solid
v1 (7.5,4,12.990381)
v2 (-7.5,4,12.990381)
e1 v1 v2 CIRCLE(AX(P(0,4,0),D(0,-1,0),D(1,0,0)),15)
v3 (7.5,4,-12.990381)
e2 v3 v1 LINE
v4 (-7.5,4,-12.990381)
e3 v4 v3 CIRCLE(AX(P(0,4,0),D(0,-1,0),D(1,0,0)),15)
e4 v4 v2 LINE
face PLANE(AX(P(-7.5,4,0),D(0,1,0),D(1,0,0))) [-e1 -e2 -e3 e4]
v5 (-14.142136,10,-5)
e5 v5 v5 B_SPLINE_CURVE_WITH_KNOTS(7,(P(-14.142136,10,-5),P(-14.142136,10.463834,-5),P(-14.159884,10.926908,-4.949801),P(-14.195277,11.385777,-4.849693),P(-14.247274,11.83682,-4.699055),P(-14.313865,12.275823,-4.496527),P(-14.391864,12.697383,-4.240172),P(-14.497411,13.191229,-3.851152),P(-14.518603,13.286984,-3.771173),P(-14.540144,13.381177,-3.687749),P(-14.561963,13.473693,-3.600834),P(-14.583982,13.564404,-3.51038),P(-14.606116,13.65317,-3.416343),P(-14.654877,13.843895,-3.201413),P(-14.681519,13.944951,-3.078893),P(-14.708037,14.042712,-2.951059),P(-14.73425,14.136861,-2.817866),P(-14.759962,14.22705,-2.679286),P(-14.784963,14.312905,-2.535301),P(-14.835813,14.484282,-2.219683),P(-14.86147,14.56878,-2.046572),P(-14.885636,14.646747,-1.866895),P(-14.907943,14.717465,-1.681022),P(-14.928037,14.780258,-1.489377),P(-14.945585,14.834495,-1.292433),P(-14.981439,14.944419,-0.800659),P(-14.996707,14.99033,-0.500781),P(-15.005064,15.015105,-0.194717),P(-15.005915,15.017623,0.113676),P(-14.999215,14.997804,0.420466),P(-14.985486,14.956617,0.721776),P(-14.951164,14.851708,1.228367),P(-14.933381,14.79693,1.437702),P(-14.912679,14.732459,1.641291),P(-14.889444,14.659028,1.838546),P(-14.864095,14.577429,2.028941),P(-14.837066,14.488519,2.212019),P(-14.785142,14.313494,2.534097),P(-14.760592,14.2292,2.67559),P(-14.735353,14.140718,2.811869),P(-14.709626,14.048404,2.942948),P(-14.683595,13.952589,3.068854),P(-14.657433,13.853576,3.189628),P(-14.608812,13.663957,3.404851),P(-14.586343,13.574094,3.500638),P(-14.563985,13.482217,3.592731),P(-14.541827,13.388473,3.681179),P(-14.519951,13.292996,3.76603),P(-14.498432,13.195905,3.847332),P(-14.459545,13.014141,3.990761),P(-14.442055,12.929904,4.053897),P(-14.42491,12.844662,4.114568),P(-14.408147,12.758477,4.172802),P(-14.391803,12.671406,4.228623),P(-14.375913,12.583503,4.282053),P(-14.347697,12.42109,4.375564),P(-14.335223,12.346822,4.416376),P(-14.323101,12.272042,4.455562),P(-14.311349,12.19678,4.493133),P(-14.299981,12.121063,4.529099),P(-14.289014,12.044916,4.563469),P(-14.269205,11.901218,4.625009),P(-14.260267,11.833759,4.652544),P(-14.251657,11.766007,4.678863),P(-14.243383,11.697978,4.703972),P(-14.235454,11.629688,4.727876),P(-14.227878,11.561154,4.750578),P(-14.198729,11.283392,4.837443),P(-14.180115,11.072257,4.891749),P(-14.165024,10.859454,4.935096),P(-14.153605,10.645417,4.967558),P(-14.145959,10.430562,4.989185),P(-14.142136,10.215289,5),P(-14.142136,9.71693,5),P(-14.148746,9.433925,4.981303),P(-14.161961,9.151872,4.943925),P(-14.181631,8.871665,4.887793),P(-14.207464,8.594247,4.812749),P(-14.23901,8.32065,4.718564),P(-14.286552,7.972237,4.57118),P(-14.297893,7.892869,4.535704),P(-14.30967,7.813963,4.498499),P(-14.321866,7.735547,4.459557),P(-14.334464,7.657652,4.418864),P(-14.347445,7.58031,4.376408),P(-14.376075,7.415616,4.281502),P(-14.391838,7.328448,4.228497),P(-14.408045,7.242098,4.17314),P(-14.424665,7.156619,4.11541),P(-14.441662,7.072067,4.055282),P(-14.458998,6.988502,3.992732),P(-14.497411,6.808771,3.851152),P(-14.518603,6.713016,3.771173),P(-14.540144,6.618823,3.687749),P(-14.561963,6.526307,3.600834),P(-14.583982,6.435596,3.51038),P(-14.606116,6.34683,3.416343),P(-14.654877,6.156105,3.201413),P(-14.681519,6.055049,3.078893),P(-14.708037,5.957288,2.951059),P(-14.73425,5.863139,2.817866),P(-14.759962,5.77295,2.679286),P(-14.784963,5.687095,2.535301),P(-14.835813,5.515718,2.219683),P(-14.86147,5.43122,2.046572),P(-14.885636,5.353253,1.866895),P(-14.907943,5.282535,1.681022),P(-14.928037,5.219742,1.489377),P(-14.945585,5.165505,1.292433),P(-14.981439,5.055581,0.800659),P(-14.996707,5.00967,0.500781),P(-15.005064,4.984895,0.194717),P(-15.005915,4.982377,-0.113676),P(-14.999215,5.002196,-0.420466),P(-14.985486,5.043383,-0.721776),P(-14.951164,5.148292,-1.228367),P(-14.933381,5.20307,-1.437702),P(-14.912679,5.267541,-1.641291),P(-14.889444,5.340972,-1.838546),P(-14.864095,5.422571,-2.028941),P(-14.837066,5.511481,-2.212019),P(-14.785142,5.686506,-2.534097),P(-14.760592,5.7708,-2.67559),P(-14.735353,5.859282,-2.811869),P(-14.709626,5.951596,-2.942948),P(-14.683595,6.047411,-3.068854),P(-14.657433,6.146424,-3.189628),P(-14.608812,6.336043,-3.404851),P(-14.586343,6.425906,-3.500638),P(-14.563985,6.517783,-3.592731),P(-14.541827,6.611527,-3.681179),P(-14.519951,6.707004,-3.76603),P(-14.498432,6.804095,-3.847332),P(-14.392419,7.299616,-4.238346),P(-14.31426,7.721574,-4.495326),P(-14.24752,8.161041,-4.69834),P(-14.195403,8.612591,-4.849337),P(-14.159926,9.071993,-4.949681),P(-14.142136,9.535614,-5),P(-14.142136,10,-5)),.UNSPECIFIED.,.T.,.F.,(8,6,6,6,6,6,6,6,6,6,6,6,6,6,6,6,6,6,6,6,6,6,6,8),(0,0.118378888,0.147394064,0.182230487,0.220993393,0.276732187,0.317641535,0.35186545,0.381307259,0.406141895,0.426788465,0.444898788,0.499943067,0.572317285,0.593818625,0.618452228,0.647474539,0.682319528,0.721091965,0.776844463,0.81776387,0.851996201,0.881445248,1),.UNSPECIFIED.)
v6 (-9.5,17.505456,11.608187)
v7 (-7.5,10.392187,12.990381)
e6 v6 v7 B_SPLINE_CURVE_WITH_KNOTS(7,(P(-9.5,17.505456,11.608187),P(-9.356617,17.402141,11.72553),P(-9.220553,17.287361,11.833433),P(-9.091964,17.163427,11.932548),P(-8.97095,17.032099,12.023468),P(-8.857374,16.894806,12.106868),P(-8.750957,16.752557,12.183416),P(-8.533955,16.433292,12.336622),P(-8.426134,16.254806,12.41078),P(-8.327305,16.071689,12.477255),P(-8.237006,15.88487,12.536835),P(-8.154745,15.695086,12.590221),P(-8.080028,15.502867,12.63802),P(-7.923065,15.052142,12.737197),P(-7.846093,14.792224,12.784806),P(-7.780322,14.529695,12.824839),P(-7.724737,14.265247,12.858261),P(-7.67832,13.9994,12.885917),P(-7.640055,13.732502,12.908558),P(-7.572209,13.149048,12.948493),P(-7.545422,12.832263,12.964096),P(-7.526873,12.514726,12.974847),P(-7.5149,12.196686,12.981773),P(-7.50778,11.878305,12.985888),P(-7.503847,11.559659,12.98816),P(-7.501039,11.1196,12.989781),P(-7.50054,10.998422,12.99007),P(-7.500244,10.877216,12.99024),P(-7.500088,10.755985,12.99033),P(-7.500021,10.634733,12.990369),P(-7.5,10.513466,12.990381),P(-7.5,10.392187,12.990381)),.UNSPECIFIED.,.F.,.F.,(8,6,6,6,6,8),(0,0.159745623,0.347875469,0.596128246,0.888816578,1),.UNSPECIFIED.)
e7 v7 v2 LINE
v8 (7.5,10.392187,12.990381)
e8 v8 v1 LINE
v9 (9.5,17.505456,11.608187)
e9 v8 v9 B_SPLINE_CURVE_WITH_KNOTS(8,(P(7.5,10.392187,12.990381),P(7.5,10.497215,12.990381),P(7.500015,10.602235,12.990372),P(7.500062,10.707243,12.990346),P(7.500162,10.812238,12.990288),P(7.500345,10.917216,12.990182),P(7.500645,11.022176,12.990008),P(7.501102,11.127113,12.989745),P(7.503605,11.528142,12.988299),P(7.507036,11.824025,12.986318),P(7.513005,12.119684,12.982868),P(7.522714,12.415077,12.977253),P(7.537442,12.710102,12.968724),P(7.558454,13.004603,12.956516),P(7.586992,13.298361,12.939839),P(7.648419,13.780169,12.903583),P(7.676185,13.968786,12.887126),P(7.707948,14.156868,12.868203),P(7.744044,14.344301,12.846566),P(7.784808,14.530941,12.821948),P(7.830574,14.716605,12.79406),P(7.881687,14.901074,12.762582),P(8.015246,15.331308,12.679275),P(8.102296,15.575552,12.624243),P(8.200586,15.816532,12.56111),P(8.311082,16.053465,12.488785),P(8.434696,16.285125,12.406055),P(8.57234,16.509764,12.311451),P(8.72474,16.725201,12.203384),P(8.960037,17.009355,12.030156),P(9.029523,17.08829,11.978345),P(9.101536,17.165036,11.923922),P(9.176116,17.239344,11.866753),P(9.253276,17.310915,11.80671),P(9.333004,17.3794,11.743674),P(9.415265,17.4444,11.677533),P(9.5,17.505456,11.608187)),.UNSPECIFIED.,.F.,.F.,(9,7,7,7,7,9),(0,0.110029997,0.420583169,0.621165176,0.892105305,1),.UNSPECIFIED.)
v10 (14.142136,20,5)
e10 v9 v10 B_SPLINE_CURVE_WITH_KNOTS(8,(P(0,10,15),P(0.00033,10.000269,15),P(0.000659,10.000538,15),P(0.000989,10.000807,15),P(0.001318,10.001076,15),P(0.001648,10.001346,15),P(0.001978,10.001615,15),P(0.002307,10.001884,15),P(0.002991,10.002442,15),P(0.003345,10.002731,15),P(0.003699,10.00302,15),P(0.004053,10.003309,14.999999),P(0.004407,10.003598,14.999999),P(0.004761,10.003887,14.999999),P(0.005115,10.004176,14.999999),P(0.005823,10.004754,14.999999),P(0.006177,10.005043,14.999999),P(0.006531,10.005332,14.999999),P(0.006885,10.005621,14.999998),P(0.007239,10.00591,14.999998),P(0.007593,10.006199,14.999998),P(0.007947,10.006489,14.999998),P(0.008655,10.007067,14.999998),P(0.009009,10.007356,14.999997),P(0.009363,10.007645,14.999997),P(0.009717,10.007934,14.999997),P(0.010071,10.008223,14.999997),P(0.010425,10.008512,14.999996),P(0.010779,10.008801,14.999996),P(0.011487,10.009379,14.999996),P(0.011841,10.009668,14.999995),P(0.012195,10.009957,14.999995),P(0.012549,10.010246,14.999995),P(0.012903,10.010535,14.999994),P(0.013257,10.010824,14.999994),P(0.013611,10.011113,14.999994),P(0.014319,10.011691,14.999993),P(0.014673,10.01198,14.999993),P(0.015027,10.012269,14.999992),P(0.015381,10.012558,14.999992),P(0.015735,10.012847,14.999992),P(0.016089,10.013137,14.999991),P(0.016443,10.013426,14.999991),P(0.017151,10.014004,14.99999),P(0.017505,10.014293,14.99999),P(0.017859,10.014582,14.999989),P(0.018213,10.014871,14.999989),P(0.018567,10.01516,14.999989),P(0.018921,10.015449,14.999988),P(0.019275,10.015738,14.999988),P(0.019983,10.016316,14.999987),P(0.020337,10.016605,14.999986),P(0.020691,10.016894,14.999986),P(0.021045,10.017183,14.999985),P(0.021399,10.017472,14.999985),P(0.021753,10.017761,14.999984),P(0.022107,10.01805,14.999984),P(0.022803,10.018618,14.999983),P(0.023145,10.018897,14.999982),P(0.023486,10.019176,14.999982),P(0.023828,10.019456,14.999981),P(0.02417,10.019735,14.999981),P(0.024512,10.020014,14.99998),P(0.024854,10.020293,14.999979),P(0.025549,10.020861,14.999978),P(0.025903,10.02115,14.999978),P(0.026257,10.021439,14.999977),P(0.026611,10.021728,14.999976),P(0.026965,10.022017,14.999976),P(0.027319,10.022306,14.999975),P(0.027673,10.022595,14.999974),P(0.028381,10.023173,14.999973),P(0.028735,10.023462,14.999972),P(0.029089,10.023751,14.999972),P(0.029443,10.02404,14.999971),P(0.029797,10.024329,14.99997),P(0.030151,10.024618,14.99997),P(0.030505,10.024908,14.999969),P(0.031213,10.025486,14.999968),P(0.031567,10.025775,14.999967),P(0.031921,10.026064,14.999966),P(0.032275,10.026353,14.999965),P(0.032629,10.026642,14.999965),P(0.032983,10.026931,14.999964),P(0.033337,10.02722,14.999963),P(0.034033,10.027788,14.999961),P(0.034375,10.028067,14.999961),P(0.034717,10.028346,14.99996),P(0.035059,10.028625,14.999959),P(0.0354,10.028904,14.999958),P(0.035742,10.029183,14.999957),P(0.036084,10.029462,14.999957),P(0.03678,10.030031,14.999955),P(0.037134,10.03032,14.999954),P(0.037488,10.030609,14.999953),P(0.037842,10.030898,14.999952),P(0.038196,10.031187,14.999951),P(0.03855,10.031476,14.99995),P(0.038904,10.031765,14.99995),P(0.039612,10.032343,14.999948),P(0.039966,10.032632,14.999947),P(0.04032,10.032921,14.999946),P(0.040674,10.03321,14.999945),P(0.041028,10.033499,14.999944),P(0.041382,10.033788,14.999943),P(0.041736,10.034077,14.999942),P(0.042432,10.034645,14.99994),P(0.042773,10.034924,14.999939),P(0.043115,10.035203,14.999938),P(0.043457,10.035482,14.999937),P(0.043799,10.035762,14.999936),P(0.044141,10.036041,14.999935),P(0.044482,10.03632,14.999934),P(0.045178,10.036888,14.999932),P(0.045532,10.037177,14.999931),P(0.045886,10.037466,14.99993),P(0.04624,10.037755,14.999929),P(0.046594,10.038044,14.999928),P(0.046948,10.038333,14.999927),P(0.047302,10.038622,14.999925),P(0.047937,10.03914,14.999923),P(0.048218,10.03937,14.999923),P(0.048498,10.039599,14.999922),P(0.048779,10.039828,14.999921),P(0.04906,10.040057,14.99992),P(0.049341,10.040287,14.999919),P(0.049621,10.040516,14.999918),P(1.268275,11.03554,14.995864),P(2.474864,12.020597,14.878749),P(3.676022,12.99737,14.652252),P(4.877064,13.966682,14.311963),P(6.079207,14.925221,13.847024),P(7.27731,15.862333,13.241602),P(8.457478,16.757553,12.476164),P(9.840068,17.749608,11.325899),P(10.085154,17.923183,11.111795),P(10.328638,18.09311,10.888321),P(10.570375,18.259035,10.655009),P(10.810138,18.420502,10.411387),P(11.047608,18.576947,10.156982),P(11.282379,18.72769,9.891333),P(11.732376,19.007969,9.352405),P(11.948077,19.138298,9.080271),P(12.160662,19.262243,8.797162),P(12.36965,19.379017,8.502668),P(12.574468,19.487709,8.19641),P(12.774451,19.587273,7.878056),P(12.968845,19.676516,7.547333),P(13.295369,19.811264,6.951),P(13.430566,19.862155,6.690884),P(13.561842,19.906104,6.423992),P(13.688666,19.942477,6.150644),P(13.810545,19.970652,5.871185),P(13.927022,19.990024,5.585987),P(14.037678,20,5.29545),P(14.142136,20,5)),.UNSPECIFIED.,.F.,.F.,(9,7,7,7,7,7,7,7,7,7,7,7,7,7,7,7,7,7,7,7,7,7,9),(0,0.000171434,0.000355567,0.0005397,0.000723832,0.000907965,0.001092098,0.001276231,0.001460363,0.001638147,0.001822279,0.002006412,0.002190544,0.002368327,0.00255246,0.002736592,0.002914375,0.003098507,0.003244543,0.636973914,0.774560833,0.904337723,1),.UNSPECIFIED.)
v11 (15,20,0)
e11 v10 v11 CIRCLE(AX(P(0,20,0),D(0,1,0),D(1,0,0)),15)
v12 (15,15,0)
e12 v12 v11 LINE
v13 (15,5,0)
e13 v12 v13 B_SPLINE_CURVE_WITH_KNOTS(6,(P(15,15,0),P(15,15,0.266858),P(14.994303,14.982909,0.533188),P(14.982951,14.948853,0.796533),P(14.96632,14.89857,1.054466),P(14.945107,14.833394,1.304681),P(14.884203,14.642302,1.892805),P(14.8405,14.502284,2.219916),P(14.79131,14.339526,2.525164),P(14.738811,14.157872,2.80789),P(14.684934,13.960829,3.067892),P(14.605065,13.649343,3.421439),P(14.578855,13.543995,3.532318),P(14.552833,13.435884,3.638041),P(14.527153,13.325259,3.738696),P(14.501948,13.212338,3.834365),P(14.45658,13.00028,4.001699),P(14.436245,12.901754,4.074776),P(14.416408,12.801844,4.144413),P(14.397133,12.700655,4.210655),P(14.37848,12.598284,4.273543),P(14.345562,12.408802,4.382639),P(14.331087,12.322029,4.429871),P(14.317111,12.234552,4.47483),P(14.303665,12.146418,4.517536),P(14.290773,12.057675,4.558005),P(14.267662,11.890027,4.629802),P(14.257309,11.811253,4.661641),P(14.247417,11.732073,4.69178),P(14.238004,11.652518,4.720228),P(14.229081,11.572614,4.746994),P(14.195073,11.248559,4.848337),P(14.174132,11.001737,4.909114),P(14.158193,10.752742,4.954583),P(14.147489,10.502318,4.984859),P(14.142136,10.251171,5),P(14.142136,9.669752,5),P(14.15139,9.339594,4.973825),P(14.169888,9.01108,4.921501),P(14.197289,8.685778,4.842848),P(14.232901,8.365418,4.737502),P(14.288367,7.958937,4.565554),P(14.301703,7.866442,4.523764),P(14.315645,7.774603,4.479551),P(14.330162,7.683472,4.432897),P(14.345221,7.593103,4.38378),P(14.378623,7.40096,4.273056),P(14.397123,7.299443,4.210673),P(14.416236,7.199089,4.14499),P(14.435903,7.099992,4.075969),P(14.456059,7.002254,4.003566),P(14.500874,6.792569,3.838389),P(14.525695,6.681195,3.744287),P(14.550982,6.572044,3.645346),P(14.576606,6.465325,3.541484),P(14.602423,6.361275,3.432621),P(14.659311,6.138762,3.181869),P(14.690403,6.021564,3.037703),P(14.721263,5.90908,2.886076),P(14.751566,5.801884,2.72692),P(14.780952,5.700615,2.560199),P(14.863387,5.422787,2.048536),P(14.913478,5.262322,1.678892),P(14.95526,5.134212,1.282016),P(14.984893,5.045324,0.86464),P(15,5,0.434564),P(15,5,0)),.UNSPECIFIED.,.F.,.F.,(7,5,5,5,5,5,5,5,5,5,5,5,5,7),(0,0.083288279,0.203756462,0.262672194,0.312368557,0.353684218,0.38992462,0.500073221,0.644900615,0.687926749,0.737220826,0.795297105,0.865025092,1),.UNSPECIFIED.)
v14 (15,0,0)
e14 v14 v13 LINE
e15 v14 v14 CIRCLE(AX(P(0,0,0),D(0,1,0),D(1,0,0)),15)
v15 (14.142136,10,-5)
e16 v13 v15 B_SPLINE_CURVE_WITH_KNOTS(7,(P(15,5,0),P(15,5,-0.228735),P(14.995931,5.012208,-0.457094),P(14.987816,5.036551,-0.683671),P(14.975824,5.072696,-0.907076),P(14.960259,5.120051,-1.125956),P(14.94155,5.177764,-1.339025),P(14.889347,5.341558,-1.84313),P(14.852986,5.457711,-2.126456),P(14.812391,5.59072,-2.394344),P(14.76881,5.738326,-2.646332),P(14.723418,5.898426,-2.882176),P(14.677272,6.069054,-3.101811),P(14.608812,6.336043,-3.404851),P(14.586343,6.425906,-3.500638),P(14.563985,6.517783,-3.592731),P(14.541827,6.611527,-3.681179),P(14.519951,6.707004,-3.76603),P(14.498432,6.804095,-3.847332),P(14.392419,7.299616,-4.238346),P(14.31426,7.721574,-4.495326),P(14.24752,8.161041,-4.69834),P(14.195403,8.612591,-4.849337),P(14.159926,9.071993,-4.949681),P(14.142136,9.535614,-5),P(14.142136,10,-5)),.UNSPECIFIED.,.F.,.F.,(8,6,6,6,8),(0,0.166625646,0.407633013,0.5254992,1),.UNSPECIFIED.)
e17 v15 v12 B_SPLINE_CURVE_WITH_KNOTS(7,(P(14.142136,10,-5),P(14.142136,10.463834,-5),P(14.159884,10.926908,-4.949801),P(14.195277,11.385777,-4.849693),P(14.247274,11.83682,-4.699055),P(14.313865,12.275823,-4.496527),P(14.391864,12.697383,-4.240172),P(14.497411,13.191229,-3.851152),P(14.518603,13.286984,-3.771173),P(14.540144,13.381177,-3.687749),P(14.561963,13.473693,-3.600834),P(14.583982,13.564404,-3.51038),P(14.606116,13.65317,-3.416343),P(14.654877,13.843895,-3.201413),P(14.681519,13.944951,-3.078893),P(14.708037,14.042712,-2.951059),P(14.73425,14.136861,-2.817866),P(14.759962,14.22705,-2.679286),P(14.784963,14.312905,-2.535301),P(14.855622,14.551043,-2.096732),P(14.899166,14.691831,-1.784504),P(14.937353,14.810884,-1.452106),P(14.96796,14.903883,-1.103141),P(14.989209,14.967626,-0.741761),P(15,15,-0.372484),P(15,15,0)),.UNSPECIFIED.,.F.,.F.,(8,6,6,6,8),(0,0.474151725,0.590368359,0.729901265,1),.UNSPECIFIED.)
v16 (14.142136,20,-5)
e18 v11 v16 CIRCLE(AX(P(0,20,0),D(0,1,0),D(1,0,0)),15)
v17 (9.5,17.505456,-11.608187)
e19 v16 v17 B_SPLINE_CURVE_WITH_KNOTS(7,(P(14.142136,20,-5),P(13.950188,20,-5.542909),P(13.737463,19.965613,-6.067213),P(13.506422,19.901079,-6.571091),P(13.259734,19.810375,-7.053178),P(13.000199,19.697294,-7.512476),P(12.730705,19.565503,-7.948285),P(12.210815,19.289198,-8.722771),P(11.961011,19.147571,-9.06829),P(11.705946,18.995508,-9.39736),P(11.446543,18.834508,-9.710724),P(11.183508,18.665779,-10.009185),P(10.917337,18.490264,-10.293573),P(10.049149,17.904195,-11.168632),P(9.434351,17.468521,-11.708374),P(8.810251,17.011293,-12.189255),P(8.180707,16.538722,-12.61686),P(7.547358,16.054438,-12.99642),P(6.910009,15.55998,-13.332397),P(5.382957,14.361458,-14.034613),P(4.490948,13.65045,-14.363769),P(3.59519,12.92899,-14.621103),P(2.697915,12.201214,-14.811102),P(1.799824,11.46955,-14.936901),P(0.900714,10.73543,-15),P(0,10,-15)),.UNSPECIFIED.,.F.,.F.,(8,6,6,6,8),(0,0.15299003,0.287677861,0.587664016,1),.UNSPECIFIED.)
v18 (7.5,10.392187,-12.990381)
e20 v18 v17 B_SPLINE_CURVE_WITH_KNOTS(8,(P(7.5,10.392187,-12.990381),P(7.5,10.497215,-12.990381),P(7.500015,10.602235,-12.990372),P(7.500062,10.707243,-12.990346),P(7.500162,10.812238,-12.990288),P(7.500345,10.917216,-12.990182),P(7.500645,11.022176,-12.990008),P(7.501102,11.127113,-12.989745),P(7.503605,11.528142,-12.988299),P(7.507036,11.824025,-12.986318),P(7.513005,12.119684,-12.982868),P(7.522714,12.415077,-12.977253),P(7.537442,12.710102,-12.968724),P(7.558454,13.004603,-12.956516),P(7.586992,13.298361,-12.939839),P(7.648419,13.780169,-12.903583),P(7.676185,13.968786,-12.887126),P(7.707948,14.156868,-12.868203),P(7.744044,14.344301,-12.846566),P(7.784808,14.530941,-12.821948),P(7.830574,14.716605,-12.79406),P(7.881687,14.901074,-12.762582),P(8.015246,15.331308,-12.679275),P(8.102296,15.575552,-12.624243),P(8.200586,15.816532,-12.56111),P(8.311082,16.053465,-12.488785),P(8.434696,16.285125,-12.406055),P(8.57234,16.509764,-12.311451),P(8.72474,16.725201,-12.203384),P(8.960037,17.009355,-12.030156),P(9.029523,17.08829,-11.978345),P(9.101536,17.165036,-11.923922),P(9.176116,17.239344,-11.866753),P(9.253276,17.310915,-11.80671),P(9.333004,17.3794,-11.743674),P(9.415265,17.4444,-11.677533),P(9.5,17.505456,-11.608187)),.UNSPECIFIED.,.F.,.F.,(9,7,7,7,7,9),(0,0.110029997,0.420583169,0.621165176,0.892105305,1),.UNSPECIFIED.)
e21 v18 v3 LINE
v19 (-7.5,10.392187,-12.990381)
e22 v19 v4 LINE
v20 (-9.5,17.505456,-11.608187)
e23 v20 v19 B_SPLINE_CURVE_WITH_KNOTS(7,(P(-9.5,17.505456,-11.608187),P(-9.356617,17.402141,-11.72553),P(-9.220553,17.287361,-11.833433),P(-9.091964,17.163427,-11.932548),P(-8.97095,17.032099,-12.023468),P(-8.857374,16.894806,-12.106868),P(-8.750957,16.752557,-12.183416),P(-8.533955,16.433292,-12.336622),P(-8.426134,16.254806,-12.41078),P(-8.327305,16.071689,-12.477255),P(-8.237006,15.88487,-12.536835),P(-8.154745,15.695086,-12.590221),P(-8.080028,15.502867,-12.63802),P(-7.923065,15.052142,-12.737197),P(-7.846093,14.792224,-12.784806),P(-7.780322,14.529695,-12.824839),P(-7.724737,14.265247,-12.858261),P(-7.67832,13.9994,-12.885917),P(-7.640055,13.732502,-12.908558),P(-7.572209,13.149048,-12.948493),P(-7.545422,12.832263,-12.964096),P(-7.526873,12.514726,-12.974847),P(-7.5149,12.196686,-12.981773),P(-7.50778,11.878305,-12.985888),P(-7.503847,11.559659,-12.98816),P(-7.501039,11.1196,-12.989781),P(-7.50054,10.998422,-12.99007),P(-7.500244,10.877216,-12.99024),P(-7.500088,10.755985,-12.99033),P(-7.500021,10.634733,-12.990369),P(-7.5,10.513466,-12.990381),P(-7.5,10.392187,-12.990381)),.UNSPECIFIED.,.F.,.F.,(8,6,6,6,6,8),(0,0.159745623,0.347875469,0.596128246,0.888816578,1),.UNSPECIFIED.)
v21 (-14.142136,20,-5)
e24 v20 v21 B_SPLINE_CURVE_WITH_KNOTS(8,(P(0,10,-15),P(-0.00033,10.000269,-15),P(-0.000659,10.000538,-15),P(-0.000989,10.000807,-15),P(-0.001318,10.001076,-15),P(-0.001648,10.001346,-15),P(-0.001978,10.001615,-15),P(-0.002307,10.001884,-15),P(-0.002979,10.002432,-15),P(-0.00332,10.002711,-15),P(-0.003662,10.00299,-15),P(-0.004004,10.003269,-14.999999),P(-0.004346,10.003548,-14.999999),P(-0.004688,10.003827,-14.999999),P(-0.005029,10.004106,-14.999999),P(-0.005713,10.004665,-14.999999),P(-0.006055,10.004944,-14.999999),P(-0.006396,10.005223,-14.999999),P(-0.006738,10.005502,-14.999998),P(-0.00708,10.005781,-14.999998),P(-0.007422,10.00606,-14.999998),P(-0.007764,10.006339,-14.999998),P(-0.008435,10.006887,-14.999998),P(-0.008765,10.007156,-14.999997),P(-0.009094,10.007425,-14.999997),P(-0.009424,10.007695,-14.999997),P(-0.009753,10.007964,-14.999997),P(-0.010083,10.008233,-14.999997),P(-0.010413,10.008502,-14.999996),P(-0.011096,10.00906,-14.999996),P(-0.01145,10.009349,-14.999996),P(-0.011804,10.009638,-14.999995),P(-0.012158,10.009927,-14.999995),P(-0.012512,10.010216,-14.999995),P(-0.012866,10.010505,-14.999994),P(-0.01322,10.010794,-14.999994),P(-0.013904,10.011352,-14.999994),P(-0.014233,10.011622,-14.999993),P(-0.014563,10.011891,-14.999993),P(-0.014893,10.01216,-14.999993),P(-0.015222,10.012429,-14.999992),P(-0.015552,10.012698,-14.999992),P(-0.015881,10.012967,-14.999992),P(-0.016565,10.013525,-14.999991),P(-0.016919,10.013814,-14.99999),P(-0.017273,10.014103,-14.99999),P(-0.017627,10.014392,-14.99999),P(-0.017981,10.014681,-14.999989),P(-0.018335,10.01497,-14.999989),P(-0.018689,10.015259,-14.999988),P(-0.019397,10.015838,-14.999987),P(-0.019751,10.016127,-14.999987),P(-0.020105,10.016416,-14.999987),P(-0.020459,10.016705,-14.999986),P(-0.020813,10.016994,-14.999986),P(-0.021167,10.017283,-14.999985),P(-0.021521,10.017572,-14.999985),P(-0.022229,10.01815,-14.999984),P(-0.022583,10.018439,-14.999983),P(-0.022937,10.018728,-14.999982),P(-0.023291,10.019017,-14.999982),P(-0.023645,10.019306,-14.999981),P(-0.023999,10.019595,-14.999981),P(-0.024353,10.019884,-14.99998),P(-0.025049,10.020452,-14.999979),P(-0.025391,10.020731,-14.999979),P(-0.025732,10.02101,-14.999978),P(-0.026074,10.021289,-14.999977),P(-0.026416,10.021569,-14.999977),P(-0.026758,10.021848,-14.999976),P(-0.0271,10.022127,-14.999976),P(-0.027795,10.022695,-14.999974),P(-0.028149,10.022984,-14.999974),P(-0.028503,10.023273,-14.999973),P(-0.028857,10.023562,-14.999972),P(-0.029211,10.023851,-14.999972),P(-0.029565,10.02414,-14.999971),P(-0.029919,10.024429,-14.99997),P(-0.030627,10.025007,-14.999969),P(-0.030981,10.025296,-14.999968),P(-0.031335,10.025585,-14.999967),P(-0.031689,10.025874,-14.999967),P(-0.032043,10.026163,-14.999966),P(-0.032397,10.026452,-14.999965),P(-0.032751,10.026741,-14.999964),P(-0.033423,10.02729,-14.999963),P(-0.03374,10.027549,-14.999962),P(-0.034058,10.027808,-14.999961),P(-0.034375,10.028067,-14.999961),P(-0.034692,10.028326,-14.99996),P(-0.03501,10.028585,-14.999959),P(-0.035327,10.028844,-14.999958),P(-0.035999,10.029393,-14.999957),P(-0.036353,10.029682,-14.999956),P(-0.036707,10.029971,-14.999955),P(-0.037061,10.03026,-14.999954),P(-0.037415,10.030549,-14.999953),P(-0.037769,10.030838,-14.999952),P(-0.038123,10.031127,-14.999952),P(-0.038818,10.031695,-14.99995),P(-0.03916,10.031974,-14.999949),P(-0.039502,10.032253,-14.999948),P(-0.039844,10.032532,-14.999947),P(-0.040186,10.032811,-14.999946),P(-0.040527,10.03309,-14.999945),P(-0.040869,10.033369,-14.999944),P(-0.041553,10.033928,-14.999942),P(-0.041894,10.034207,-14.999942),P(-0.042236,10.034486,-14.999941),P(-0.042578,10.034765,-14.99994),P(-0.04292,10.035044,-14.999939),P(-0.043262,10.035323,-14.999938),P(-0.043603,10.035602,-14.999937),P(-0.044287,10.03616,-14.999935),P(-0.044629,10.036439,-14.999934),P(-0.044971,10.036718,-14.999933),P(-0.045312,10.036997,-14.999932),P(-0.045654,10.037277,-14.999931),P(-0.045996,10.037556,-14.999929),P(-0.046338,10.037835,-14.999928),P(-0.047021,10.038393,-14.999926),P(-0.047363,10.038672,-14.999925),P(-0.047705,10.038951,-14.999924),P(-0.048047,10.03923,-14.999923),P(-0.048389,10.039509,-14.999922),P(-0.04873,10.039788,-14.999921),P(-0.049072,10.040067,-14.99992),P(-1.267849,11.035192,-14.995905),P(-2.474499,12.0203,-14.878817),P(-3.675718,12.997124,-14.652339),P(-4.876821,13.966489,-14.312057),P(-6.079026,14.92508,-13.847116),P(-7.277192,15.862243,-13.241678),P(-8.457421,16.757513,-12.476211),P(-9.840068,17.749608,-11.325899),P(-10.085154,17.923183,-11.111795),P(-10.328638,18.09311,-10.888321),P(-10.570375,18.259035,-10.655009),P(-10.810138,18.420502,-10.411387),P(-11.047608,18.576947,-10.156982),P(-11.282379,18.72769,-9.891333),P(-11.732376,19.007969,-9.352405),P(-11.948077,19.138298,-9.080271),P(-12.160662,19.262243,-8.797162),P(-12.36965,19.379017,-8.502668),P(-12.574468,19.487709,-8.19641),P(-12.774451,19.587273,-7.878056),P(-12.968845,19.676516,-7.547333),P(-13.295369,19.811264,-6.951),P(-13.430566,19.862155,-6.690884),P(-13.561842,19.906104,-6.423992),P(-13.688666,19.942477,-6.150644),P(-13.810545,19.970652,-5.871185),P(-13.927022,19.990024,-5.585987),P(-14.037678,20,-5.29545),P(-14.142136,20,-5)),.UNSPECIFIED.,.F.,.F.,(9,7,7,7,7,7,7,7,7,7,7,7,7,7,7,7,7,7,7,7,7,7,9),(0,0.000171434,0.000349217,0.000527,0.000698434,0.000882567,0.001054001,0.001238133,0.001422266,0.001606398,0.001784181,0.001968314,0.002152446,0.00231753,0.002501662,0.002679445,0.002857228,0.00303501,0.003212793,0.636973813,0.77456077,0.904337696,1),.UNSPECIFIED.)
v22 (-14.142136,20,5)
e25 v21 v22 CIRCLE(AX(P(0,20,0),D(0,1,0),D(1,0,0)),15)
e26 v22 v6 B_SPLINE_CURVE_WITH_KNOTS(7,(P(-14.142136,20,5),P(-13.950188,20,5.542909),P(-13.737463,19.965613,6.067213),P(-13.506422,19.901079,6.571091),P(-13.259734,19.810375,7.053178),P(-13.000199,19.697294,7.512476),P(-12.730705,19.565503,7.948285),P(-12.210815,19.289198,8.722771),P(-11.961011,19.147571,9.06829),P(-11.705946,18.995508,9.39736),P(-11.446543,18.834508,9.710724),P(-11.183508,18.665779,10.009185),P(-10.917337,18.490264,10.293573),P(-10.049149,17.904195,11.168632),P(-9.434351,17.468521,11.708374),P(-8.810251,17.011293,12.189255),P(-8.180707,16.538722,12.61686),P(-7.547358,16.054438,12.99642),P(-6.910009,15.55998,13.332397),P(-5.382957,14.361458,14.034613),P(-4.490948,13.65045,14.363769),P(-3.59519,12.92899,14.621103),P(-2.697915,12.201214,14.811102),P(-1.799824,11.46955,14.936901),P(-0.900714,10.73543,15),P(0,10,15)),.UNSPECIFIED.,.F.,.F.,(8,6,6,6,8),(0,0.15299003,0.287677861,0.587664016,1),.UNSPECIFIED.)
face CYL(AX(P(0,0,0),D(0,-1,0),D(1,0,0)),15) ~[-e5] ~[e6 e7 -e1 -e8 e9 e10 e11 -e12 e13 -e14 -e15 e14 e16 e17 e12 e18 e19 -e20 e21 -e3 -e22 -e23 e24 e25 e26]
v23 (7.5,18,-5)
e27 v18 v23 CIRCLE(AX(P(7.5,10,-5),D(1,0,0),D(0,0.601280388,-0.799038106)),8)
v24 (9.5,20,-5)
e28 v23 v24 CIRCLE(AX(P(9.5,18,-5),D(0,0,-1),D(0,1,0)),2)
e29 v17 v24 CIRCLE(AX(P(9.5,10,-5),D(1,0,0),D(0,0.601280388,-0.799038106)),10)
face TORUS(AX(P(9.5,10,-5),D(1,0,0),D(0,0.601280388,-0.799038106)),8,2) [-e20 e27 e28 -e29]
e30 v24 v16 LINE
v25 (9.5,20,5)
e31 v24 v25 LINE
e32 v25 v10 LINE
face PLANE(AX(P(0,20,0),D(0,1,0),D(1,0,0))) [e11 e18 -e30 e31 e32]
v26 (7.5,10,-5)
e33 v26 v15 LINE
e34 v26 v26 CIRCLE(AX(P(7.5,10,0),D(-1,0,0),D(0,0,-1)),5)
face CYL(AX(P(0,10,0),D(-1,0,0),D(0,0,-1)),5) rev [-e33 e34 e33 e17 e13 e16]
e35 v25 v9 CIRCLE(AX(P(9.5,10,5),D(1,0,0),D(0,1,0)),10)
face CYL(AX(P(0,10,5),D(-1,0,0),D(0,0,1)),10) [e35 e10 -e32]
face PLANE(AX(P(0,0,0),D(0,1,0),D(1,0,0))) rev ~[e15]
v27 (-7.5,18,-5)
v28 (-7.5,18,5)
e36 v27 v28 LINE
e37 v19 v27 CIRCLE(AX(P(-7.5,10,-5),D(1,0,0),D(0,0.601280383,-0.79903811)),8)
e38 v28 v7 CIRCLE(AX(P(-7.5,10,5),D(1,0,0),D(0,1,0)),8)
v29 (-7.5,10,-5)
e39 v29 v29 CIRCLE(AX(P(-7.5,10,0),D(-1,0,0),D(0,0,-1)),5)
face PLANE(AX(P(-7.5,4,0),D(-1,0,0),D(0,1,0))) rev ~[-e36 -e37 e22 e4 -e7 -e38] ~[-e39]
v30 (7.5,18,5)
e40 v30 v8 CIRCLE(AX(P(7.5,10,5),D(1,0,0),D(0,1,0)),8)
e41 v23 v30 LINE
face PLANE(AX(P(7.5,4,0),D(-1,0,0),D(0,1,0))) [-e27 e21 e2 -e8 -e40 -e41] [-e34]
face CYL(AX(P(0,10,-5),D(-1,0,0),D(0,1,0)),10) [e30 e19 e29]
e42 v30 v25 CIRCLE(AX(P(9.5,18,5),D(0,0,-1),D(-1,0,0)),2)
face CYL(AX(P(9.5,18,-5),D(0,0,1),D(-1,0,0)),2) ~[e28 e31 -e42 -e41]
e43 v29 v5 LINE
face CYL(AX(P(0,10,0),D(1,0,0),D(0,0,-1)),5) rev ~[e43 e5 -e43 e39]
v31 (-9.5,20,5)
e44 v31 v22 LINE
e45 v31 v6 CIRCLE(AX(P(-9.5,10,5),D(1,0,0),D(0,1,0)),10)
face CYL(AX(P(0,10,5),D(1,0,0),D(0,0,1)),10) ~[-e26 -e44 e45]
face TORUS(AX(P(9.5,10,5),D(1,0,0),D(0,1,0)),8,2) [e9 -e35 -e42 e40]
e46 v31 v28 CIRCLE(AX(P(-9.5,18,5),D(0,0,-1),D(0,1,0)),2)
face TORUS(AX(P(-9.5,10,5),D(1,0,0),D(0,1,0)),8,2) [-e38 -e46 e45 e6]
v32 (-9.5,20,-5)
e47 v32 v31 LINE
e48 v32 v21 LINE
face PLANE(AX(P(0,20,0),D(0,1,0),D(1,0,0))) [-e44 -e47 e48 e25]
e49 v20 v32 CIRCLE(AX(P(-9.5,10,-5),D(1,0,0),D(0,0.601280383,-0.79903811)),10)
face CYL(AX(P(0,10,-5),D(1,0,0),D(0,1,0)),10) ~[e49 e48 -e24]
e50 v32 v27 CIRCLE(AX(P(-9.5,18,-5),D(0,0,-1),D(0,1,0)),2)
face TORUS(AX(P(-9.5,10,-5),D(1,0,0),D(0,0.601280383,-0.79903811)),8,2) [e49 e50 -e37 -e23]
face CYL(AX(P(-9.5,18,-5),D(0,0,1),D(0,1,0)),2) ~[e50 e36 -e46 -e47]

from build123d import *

# Parameters (mm, degrees)
SKETCH1_R               = 15
BOSS_EXTRUDE1_DEPTH     = 20
SKETCH2_R               = 5
CUT_EXTRUDE1_DEPTH      = 16
CUT_EXTRUDE1_DEPTH_BACK = 16
SKETCH3_W               = 15
SKETCH3_H               = 16
CUT_EXTRUDE2_DEPTH      = 16.0000001
CUT_EXTRUDE2_DEPTH_BACK = 16.0000001
FILLET1_R               = 2


with BuildPart() as part:
    # Sketch1 → Boss-Extrude1 (new body)
    with BuildSketch(Plane(origin=(0, 0, 0), x_dir=(1, 0, 0), z_dir=(0, 1, 0))):
        Circle(SKETCH1_R)
    extrude(amount=BOSS_EXTRUDE1_DEPTH)

    # Sketch2 → Cut-Extrude1 (cut, two sides)
    with BuildSketch(Plane(origin=(0, 0, 0), x_dir=(0, 0, -1), z_dir=(1, 0, 0))) as cut_extrude1_sk:
        with BuildLine():
            ThreePointArc((-15, 10), (-12.071067812, 17.071067812), (-5, 20))
            Line((-5, 20), (-15, 20))
            Line((-15, 20), (-15, 10))
        make_face()
        with BuildLine():
            Line((15, 20), (5, 20))
            ThreePointArc((5, 20), (12.071067812, 17.071067812), (15, 10))
            Line((15, 10), (15, 20))
        make_face()
        with Locations((0, 10)):
            Circle(SKETCH2_R)
    extrude(amount=CUT_EXTRUDE1_DEPTH, mode=Mode.SUBTRACT)
    extrude(cut_extrude1_sk.sketch, amount=-CUT_EXTRUDE1_DEPTH_BACK, mode=Mode.SUBTRACT)

    # Sketch3 → Cut-Extrude2 (cut, two sides)
    with BuildSketch(Plane.XY) as cut_extrude2_sk:
        with Locations((0, 12)):
            Rectangle(SKETCH3_W, SKETCH3_H)
    extrude(amount=CUT_EXTRUDE2_DEPTH, mode=Mode.SUBTRACT)
    extrude(cut_extrude2_sk.sketch, amount=-CUT_EXTRUDE2_DEPTH_BACK, mode=Mode.SUBTRACT)

    # Fillet1
    fillet1_edges = [part.edges().sort_by_distance(p)[0] for p in [
        (7.5, 20, 0),
        (-7.5, 20, 0),
        (7.5, 18.947849992, -9.464972622),
        (7.5, 18.94784999, 9.464972627),
        (-7.5, 18.94784999, -9.464972627),
        (-7.5, 18.947849992, 9.464972622),
    ]]
    fillet(fillet1_edges, radius=FILLET1_R)


solid = part.part
